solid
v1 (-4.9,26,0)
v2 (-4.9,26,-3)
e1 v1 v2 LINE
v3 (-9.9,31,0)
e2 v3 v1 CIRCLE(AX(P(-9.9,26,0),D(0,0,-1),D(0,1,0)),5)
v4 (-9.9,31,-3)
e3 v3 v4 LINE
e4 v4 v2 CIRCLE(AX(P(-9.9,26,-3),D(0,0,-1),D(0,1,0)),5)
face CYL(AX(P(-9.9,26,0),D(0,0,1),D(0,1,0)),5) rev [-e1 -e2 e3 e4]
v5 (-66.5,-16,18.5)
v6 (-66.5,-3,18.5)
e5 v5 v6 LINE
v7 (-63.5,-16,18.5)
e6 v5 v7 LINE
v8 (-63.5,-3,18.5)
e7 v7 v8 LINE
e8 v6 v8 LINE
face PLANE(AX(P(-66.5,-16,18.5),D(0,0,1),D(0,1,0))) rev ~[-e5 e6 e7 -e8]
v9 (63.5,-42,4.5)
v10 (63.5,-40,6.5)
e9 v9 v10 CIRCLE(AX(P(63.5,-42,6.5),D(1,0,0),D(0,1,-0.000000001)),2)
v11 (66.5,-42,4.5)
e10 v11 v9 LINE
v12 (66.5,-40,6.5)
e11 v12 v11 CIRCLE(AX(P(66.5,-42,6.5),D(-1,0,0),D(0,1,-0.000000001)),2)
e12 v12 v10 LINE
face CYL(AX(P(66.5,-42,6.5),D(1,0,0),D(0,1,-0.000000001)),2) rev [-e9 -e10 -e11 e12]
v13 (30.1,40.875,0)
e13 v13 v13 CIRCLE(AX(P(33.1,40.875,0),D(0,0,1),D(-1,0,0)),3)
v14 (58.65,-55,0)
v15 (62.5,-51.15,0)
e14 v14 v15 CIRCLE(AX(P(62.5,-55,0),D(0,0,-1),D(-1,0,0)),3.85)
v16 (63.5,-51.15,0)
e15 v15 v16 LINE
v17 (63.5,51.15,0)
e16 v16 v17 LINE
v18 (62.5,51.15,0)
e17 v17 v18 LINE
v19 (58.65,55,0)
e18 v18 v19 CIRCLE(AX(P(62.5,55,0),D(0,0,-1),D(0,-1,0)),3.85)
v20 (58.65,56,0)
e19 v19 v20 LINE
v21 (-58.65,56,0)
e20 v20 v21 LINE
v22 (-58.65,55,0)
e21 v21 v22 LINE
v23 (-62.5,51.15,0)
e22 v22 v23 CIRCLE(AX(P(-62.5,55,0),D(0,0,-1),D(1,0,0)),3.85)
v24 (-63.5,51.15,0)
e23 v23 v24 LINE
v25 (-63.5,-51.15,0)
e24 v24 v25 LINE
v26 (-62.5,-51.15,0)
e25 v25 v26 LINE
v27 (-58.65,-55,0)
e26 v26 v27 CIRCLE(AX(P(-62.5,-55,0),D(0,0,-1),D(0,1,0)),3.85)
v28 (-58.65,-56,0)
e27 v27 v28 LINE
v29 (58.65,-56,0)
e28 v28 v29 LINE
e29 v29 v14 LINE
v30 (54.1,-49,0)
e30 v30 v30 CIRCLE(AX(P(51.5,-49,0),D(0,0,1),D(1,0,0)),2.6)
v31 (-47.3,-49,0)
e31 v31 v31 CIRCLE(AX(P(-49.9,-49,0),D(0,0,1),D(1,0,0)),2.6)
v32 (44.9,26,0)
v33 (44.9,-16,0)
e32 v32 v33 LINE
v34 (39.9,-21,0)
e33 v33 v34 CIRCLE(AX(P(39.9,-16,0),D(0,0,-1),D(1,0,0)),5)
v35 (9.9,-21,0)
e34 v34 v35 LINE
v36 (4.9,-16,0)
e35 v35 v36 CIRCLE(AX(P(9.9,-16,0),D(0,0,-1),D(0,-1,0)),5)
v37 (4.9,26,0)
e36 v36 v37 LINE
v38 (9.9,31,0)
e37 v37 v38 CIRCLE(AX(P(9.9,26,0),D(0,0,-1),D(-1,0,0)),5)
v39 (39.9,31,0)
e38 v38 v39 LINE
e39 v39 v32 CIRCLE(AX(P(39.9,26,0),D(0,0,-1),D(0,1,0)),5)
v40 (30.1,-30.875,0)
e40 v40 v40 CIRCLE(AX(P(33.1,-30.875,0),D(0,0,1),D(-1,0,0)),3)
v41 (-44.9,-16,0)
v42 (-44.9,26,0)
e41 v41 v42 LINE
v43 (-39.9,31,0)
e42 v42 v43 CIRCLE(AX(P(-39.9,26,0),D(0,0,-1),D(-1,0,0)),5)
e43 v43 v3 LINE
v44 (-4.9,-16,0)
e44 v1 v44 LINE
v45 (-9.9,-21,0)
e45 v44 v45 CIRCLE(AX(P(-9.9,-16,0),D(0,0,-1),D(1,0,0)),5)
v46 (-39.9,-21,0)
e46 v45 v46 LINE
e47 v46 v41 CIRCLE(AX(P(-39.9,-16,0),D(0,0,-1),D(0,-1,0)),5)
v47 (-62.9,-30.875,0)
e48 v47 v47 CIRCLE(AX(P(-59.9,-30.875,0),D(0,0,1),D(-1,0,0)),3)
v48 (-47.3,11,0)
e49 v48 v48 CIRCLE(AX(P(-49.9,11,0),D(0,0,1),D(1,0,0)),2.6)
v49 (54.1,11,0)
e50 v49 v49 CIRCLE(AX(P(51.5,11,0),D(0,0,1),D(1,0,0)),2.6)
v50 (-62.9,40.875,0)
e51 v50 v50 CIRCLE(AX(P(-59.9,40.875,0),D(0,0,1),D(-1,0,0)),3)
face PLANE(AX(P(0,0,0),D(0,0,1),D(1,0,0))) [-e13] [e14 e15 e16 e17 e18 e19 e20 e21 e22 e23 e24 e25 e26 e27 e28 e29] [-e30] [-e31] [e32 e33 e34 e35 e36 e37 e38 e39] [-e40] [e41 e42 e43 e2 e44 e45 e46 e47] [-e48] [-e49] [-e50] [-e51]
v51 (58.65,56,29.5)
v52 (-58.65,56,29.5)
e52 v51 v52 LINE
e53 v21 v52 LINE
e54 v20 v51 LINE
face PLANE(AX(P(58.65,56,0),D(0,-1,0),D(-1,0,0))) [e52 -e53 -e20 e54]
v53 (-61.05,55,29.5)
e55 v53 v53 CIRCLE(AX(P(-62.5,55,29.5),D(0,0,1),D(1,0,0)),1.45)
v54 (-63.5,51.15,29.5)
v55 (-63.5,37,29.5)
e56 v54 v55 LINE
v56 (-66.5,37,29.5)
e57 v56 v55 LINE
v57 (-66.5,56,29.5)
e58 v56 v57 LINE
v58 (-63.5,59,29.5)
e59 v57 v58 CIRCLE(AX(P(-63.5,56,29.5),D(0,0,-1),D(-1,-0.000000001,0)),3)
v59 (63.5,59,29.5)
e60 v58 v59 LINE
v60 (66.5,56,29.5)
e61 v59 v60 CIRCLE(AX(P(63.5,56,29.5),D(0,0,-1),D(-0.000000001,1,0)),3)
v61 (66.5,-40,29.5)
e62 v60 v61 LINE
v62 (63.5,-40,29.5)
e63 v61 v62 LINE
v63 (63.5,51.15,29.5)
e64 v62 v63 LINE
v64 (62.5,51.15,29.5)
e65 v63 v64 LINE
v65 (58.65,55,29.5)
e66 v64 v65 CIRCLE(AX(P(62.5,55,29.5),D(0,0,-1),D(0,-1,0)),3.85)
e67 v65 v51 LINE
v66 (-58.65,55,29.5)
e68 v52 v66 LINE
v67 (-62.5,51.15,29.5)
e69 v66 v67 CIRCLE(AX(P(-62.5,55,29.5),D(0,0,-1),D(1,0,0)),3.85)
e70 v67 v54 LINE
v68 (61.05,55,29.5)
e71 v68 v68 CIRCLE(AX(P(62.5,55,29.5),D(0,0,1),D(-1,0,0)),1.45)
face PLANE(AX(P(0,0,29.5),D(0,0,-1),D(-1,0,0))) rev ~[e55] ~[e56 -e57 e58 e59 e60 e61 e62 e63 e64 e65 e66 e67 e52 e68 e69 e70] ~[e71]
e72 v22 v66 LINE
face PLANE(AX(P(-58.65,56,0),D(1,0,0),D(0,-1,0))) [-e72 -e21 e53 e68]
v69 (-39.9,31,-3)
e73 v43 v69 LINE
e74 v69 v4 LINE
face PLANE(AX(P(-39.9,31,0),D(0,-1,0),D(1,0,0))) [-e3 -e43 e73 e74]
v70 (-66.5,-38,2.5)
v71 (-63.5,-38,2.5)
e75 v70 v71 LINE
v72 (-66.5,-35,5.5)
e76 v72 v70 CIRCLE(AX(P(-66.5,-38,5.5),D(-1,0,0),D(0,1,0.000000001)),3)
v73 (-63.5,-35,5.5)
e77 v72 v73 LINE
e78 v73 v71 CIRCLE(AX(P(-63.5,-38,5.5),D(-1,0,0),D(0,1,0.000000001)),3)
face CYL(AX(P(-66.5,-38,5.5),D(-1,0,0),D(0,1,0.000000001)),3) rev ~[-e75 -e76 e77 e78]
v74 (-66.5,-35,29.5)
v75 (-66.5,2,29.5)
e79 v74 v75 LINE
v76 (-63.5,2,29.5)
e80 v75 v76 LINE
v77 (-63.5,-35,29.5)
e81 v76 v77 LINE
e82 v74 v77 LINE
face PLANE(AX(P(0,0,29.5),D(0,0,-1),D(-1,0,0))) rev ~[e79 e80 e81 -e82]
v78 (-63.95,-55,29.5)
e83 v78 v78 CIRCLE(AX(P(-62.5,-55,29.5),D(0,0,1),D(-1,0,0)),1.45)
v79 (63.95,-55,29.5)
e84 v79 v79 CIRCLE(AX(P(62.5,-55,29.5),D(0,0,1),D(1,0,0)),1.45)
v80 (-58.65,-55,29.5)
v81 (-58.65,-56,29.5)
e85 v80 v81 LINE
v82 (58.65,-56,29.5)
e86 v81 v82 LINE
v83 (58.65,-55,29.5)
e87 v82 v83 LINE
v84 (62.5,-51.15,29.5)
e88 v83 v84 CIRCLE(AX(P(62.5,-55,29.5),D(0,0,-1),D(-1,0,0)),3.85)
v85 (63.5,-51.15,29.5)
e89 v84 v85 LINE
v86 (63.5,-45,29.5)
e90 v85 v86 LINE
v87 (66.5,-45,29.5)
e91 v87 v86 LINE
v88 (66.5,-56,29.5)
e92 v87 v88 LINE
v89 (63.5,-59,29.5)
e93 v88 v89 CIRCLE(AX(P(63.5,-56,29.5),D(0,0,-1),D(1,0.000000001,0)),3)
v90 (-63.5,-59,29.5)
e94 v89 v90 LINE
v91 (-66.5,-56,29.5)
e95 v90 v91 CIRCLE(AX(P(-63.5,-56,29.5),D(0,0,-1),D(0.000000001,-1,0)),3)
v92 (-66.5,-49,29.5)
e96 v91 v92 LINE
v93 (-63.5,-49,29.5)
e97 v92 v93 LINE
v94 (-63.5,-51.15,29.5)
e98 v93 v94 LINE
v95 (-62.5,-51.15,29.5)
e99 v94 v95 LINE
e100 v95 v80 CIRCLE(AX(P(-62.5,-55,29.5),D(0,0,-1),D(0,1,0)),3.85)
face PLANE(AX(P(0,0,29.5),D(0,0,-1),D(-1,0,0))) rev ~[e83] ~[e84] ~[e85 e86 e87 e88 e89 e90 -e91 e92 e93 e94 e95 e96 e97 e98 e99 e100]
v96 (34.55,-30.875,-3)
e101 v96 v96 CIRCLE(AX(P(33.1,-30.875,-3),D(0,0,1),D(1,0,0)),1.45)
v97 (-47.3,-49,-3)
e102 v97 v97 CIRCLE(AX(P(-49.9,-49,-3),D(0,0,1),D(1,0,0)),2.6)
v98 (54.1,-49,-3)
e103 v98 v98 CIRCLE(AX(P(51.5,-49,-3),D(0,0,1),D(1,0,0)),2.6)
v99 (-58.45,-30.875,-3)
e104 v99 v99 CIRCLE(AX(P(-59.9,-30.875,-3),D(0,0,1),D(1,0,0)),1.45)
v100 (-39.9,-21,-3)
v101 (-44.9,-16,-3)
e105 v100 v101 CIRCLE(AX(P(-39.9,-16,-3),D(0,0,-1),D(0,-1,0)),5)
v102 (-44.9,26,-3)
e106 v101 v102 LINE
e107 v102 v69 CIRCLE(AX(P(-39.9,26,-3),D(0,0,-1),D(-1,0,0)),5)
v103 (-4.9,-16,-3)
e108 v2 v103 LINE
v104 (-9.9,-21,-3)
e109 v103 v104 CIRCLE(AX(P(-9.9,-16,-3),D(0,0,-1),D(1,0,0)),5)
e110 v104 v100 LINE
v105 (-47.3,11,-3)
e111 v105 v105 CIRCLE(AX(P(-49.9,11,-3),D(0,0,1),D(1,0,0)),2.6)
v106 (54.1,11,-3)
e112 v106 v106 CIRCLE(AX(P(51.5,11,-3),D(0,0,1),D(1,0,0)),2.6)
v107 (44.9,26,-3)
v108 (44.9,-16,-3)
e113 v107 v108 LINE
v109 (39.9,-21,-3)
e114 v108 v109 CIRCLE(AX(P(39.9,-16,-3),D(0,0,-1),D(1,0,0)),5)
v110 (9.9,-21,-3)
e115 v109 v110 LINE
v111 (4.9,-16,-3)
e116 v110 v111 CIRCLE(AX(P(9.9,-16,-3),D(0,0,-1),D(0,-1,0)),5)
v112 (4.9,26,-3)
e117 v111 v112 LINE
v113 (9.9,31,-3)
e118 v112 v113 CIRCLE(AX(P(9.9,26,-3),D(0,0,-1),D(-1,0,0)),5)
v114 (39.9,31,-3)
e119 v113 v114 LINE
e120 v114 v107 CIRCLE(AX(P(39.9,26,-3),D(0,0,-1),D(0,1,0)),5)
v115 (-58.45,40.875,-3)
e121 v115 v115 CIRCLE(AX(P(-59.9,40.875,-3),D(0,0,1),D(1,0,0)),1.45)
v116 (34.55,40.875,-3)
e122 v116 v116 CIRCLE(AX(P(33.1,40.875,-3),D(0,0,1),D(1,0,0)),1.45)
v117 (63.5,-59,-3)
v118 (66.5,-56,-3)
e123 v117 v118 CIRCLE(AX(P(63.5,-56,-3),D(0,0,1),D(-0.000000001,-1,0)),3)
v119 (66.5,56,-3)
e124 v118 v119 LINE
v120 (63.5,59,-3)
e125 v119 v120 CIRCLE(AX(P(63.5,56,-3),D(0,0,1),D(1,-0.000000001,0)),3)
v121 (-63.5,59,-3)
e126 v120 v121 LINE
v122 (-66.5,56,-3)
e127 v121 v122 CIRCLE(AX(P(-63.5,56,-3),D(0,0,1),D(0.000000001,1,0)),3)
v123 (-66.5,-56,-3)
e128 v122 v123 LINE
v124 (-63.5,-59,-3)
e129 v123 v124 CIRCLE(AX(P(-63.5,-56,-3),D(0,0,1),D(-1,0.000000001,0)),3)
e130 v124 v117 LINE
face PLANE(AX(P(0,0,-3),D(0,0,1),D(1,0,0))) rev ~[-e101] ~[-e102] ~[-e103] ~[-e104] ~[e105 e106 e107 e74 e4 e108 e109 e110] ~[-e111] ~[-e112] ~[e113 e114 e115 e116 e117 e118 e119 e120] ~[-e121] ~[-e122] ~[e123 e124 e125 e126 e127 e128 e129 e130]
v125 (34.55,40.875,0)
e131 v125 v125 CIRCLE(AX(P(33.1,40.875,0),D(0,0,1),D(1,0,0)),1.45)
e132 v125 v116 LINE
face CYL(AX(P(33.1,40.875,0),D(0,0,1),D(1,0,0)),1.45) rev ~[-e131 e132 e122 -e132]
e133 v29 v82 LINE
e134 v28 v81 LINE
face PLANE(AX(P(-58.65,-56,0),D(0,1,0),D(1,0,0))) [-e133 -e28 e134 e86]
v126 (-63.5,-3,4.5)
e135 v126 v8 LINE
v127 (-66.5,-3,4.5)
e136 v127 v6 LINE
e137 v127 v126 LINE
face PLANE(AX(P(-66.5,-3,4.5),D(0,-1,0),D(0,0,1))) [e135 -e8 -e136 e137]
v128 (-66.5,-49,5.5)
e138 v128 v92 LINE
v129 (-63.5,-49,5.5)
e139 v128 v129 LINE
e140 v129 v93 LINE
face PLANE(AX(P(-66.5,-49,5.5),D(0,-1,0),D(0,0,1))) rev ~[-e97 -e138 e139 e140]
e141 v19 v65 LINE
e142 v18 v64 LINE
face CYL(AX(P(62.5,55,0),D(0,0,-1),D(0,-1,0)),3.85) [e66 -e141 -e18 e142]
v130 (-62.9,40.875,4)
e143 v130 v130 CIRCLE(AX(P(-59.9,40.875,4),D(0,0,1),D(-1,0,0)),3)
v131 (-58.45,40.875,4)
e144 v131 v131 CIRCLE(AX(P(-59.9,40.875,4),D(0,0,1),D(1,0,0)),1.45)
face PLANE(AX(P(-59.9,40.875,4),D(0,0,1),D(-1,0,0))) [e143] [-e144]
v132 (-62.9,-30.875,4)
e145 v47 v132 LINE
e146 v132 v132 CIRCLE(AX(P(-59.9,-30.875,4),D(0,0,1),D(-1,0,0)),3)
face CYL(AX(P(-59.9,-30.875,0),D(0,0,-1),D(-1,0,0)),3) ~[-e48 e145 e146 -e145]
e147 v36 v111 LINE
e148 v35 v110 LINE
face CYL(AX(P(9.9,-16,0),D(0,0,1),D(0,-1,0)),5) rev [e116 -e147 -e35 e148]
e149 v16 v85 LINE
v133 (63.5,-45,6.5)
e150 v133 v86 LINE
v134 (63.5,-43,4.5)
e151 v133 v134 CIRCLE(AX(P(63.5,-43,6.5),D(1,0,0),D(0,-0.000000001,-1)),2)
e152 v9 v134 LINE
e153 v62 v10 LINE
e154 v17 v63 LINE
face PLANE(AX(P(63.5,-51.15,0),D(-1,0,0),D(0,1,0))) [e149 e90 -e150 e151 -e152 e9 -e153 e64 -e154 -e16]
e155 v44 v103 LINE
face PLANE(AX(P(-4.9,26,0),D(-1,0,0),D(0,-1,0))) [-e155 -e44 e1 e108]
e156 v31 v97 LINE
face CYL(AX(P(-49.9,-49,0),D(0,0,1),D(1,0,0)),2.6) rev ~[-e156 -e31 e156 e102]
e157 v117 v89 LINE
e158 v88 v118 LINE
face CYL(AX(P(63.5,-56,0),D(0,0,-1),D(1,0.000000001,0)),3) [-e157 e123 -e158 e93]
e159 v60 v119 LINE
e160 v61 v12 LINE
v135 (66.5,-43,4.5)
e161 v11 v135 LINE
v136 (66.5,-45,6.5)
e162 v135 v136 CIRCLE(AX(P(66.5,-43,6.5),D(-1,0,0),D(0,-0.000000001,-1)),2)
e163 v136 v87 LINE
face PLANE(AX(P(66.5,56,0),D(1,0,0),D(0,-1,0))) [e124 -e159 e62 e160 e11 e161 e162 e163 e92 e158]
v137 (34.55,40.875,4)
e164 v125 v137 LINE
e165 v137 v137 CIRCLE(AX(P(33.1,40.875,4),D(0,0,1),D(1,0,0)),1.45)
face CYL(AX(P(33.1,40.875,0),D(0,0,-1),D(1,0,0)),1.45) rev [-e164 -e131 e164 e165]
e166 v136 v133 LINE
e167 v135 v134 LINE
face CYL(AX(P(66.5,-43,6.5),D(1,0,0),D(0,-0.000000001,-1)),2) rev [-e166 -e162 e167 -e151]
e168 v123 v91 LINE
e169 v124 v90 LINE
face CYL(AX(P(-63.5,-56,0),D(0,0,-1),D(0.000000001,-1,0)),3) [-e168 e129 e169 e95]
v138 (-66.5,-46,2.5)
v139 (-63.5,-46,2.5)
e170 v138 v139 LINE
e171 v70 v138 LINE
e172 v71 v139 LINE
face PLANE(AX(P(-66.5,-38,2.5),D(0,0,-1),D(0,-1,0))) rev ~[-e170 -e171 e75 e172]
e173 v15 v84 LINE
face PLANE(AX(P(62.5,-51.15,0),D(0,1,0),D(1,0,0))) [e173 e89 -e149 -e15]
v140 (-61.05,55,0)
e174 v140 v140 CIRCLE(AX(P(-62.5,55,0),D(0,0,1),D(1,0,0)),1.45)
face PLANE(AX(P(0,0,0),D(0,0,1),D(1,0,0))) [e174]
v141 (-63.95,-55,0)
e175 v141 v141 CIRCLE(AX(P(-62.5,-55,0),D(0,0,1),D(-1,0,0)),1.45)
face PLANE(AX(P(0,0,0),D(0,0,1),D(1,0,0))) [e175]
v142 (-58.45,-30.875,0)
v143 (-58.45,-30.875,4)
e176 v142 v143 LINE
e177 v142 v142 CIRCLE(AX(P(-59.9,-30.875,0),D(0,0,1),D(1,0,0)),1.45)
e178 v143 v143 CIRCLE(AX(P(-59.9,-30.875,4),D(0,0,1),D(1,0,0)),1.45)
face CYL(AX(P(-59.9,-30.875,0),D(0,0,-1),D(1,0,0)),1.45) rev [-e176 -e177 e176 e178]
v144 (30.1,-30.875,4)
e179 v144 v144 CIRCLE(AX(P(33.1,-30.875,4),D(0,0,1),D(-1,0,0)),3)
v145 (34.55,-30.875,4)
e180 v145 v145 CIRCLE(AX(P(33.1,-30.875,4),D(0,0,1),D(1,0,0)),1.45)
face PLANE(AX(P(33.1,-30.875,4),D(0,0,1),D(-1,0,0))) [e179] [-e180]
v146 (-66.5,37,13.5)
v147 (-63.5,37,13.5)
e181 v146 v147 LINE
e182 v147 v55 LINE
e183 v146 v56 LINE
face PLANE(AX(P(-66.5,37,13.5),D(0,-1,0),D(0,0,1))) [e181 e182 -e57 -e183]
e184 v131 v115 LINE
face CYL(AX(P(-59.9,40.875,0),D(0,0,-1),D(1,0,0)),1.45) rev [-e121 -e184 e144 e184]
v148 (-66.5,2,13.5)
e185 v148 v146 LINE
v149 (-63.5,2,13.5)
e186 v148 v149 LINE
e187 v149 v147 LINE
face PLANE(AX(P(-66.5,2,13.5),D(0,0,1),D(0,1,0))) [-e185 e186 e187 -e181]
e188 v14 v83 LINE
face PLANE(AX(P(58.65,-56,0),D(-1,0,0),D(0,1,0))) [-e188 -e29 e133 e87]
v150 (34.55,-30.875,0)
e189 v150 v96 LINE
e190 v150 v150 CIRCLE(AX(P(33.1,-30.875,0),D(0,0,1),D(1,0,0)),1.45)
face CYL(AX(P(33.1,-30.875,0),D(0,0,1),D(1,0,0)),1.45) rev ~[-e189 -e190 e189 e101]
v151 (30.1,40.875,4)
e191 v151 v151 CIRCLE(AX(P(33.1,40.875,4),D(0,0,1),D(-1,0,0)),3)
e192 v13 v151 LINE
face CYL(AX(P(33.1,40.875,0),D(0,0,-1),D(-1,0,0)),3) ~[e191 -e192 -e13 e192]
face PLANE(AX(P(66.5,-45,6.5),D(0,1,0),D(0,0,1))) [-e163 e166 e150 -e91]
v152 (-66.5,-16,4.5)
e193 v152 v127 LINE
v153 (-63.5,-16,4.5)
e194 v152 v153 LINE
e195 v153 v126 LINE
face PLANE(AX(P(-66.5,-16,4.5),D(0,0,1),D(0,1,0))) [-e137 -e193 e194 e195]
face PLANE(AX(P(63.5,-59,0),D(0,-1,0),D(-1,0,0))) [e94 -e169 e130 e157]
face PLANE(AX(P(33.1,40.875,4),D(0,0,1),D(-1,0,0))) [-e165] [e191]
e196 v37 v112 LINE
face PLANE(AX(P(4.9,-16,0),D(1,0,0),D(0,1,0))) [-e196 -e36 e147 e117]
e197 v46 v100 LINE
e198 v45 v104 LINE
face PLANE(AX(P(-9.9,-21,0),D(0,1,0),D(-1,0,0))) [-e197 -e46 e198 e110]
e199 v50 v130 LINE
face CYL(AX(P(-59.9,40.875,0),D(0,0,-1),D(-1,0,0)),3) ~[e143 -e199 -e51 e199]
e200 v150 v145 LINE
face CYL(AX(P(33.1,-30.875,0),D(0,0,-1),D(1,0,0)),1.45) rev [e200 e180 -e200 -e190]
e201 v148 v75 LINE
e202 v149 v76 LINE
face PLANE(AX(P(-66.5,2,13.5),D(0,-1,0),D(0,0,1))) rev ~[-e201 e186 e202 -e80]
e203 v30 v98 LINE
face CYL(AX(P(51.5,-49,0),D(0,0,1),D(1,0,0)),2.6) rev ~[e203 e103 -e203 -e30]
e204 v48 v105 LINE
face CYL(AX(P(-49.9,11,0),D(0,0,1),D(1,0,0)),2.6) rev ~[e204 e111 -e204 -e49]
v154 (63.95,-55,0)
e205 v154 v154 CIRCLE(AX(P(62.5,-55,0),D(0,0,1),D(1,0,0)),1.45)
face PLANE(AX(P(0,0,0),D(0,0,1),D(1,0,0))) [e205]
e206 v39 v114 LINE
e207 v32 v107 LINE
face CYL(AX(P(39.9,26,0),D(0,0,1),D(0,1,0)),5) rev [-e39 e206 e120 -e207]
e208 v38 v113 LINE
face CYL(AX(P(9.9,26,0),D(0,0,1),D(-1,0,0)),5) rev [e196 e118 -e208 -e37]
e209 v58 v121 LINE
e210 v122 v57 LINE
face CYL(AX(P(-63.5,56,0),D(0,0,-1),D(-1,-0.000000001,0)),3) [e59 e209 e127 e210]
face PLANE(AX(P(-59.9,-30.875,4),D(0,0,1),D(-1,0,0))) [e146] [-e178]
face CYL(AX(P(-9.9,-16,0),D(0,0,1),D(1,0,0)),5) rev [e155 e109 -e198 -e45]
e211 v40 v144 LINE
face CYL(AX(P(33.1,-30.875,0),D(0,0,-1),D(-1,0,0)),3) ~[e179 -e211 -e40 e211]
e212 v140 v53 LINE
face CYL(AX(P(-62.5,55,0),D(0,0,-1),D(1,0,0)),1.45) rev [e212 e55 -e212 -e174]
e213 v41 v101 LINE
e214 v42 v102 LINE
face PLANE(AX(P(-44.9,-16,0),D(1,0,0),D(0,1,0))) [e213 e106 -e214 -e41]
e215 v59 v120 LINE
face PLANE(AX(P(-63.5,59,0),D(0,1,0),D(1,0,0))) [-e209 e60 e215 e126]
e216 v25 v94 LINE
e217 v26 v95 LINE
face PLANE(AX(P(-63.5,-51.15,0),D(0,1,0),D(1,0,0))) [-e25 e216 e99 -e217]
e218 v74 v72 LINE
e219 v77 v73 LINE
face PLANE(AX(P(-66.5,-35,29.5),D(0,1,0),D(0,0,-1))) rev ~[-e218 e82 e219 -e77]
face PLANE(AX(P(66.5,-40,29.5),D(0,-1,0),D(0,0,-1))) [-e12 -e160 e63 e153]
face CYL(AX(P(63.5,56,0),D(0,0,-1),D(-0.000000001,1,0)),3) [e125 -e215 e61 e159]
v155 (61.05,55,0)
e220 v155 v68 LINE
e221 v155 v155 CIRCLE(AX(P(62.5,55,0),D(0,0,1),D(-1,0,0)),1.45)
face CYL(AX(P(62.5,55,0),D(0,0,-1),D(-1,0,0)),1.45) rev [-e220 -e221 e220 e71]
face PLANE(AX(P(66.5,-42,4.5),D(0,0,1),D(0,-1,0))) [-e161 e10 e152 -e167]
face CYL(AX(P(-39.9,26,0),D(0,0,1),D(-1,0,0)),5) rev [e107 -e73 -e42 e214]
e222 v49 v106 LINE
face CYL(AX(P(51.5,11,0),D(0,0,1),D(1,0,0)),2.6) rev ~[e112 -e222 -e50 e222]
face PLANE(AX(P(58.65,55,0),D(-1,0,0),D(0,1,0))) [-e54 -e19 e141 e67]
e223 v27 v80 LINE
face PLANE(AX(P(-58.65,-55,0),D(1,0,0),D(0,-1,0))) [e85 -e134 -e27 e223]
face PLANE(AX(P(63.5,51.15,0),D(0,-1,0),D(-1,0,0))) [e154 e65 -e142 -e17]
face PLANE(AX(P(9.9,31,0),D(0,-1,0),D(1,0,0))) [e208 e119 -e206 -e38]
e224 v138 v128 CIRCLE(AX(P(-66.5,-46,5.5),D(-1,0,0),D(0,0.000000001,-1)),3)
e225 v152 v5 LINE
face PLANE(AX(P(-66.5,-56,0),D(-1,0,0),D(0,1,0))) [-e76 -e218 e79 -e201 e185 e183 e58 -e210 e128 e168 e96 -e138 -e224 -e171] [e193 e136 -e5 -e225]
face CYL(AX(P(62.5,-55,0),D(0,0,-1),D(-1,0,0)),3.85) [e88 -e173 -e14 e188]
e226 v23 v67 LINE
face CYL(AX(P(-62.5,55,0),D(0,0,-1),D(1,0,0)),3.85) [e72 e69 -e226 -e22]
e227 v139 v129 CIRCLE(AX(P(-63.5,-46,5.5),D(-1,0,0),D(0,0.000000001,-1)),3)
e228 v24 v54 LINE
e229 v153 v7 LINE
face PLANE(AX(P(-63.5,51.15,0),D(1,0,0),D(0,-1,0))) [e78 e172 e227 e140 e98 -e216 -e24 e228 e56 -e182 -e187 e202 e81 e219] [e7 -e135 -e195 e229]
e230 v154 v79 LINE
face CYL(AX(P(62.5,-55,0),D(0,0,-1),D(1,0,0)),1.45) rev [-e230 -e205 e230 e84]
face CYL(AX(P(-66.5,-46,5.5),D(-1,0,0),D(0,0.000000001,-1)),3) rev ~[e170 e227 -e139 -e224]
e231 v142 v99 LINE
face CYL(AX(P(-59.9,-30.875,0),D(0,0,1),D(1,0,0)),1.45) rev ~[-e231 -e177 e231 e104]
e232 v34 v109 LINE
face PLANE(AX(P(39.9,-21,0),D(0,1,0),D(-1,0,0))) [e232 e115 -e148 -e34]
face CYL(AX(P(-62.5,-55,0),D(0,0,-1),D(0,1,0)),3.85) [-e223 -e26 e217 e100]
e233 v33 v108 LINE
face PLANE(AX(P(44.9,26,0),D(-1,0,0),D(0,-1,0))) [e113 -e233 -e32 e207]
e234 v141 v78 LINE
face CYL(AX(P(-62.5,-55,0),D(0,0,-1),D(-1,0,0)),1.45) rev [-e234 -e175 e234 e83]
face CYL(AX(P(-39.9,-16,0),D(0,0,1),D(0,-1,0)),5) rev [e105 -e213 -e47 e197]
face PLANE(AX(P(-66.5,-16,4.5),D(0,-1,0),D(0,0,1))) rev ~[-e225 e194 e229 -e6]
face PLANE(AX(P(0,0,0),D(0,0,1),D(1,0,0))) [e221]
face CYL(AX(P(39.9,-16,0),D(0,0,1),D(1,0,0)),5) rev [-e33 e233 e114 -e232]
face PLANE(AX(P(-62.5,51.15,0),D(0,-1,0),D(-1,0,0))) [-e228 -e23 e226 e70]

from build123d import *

# Parameters (mm, degrees)
SKETCH1_R           = 1.45
SKETCH1_R_2         = 2.6
BOSS_EXTRUDE1_DEPTH = 3
SKETCH1_3_R         = 1.45
BOSS_EXTRUDE2_DEPTH = 29.5
SKETCH1_4_R         = 3
SKETCH1_4_R_2       = 1.45
BOSS_EXTRUDE3_DEPTH = 4
SKETCH5_W           = 14
SKETCH5_H           = 13
SKETCH5_W_2         = 16
SKETCH5_H_2         = 35
CUT_EXTRUDE2_DEPTH  = 3
CUT_EXTRUDE3_REACH  = 150.46


with BuildPart() as part:
    # Sketch1 → Boss-Extrude1 (new body)
    with BuildSketch(Plane.XY):
        with BuildLine():
            Line((-63.5, -59), (63.5, -59))
            ThreePointArc((63.5, -59), (65.621320344, -58.121320344), (66.5, -56))
            Line((66.5, -56), (66.5, 56))
            ThreePointArc((66.5, 56), (65.621320344, 58.121320344), (63.5, 59))
            Line((63.5, 59), (-63.5, 59))
            ThreePointArc((-63.5, 59), (-65.621320344, 58.121320344), (-66.5, 56))
            Line((-66.5, 56), (-66.5, -56))
            ThreePointArc((-66.5, -56), (-65.621320344, -58.121320344), (-63.5, -59))
        make_face()
        with Locations((-59.9, 40.875)):
            Circle(SKETCH1_R, mode=Mode.SUBTRACT)
        with Locations((33.1, 40.875)):
            Circle(SKETCH1_R, mode=Mode.SUBTRACT)
        with Locations((33.1, -30.875)):
            Circle(SKETCH1_R, mode=Mode.SUBTRACT)
        with Locations((-59.9, -30.875)):
            Circle(SKETCH1_R, mode=Mode.SUBTRACT)
        with Locations((-49.9, 11)):
            Circle(SKETCH1_R_2, mode=Mode.SUBTRACT)
        with Locations((51.5, 11)):
            Circle(SKETCH1_R_2, mode=Mode.SUBTRACT)
        with Locations((-49.9, -49)):
            Circle(SKETCH1_R_2, mode=Mode.SUBTRACT)
        with Locations((51.5, -49)):
            Circle(SKETCH1_R_2, mode=Mode.SUBTRACT)
        with BuildLine():
            Line((44.9, 26), (44.9, -16))
            ThreePointArc((44.9, -16), (43.435533906, -19.535533906), (39.9, -21))
            Line((39.9, -21), (9.9, -21))
            ThreePointArc((9.9, -21), (6.364466094, -19.535533906), (4.9, -16))
            Line((4.9, -16), (4.9, 26))
            ThreePointArc((4.9, 26), (6.364466094, 29.535533906), (9.9, 31))
            Line((9.9, 31), (39.9, 31))
            ThreePointArc((39.9, 31), (43.435533906, 29.535533906), (44.9, 26))
        make_face(mode=Mode.SUBTRACT)
        with BuildLine():
            Line((-39.9, 31), (-9.9, 31))
            ThreePointArc((-9.9, 31), (-6.364466094, 29.535533906), (-4.9, 26))
            Line((-4.9, 26), (-4.9, -16))
            ThreePointArc((-4.9, -16), (-6.364466094, -19.535533906), (-9.9, -21))
            Line((-9.9, -21), (-39.9, -21))
            ThreePointArc((-39.9, -21), (-43.435533906, -19.535533906), (-44.9, -16))
            Line((-44.9, -16), (-44.9, 26))
            ThreePointArc((-44.9, 26), (-43.435533906, 29.535533906), (-39.9, 31))
        make_face(mode=Mode.SUBTRACT)
    extrude(amount=-BOSS_EXTRUDE1_DEPTH)

    # Sketch1<3> → Boss-Extrude2 (add)
    with BuildSketch(Plane.XY):
        with BuildLine():
            ThreePointArc((-66.5, 56), (-65.621320344, 58.121320344), (-63.5, 59))
            Line((-63.5, 59), (63.5, 59))
            ThreePointArc((63.5, 59), (65.621320344, 58.121320344), (66.5, 56))
            Line((66.5, 56), (66.5, -56))
            ThreePointArc((66.5, -56), (65.621320344, -58.121320344), (63.5, -59))
            Line((63.5, -59), (-63.5, -59))
            ThreePointArc((-63.5, -59), (-65.621320344, -58.121320344), (-66.5, -56))
            Line((-66.5, -56), (-66.5, 56))
        make_face()
        with Locations(Location((62.5, 55, 0), (0, 0, 180))):
            Circle(SKETCH1_3_R, mode=Mode.SUBTRACT)
        with Locations((-62.5, 55)):
            Circle(SKETCH1_3_R, mode=Mode.SUBTRACT)
        with Locations((62.5, -55)):
            Circle(SKETCH1_3_R, mode=Mode.SUBTRACT)
        with Locations(Location((-62.5, -55, 0), (0, 0, 180))):
            Circle(SKETCH1_3_R, mode=Mode.SUBTRACT)
        with BuildLine():
            ThreePointArc((-62.5, -51.15), (-59.777638892, -52.277638892), (-58.65, -55))
            Line((-58.65, -55), (-58.65, -56))
            Line((-58.65, -56), (58.65, -56))
            Line((58.65, -56), (58.65, -55))
            ThreePointArc((58.65, -55), (59.777638892, -52.277638892), (62.5, -51.15))
            Line((62.5, -51.15), (63.5, -51.15))
            Line((63.5, -51.15), (63.5, 51.15))
            Line((63.5, 51.15), (62.5, 51.15))
            ThreePointArc((62.5, 51.15), (59.777638892, 52.277638892), (58.65, 55))
            Line((58.65, 55), (58.65, 56))
            Line((58.65, 56), (-58.65, 56))
            Line((-58.65, 56), (-58.65, 55))
            ThreePointArc((-58.65, 55), (-59.777638892, 52.277638892), (-62.5, 51.15))
            Line((-62.5, 51.15), (-63.5, 51.15))
            Line((-63.5, 51.15), (-63.5, -51.15))
            Line((-63.5, -51.15), (-62.5, -51.15))
        make_face(mode=Mode.SUBTRACT)
    extrude(amount=BOSS_EXTRUDE2_DEPTH)

    # Sketch1<4> → Boss-Extrude3 (add)
    with BuildSketch(Plane.XY):
        with Locations(Location((-59.9, 40.875, 0), (0, 0, 180))):
            Circle(SKETCH1_4_R)
        with Locations((-59.9, 40.875)):
            Circle(SKETCH1_4_R_2, mode=Mode.SUBTRACT)
        with Locations(Location((33.1, 40.875, 0), (0, 0, 180))):
            Circle(SKETCH1_4_R)
        with Locations((33.1, 40.875)):
            Circle(SKETCH1_4_R_2, mode=Mode.SUBTRACT)
        with Locations(Location((33.1, -30.875, 0), (0, 0, 180))):
            Circle(SKETCH1_4_R)
        with Locations((33.1, -30.875)):
            Circle(SKETCH1_4_R_2, mode=Mode.SUBTRACT)
        with Locations(Location((-59.9, -30.875, 0), (0, 0, 180))):
            Circle(SKETCH1_4_R)
        with Locations((-59.9, -30.875)):
            Circle(SKETCH1_4_R_2, mode=Mode.SUBTRACT)
    extrude(amount=BOSS_EXTRUDE3_DEPTH)

    # Sketch5 → Cut-Extrude2 (cut)
    with BuildSketch(Plane.ZY.offset(66.5)):
        with Locations((11.5, -9.5)):
            Rectangle(SKETCH5_W, SKETCH5_H)
        with BuildLine():
            Line((29.5, -35), (5.5, -35))
            ThreePointArc((5.5, -35), (3.378679656, -35.878679656), (2.5, -38))
            Line((2.5, -38), (2.5, -46))
            ThreePointArc((2.5, -46), (3.378679656, -48.121320344), (5.5, -49))
            Line((5.5, -49), (29.5, -49))
            Line((29.5, -49), (29.5, -35))
        make_face()
        with Locations((21.5, 19.5)):
            Rectangle(SKETCH5_W_2, SKETCH5_H_2)
    extrude(amount=-CUT_EXTRUDE2_DEPTH, mode=Mode.SUBTRACT)

    # Sketch6 → Cut-Extrude3 (cut, up to next)
    with BuildSketch(Plane(origin=(66.5, 0, 0), x_dir=(0, 0, -1), z_dir=(1, 0, 0)), mode=Mode.PRIVATE) as cut_extrude3_sk1:
        with BuildLine():
            Line((-6.5, -45), (-29.5, -45))
            Line((-29.5, -45), (-29.5, -40))
            Line((-29.5, -40), (-6.5, -40))
            ThreePointArc((-6.5, -40), (-5.085786438, -40.585786438), (-4.5, -42))
            Line((-4.5, -42), (-4.5, -43))
            ThreePointArc((-4.5, -43), (-5.085786438, -44.414213562), (-6.5, -45))
        make_face()
    cut_extrude3_tool1 = extrude(cut_extrude3_sk1.sketch, amount=-CUT_EXTRUDE3_REACH, mode=Mode.PRIVATE) & part.part
    add(cut_extrude3_tool1.solids().sort_by_distance((66.5, -42.5, 17.167851))[0], mode=Mode.SUBTRACT)


solid = part.part
